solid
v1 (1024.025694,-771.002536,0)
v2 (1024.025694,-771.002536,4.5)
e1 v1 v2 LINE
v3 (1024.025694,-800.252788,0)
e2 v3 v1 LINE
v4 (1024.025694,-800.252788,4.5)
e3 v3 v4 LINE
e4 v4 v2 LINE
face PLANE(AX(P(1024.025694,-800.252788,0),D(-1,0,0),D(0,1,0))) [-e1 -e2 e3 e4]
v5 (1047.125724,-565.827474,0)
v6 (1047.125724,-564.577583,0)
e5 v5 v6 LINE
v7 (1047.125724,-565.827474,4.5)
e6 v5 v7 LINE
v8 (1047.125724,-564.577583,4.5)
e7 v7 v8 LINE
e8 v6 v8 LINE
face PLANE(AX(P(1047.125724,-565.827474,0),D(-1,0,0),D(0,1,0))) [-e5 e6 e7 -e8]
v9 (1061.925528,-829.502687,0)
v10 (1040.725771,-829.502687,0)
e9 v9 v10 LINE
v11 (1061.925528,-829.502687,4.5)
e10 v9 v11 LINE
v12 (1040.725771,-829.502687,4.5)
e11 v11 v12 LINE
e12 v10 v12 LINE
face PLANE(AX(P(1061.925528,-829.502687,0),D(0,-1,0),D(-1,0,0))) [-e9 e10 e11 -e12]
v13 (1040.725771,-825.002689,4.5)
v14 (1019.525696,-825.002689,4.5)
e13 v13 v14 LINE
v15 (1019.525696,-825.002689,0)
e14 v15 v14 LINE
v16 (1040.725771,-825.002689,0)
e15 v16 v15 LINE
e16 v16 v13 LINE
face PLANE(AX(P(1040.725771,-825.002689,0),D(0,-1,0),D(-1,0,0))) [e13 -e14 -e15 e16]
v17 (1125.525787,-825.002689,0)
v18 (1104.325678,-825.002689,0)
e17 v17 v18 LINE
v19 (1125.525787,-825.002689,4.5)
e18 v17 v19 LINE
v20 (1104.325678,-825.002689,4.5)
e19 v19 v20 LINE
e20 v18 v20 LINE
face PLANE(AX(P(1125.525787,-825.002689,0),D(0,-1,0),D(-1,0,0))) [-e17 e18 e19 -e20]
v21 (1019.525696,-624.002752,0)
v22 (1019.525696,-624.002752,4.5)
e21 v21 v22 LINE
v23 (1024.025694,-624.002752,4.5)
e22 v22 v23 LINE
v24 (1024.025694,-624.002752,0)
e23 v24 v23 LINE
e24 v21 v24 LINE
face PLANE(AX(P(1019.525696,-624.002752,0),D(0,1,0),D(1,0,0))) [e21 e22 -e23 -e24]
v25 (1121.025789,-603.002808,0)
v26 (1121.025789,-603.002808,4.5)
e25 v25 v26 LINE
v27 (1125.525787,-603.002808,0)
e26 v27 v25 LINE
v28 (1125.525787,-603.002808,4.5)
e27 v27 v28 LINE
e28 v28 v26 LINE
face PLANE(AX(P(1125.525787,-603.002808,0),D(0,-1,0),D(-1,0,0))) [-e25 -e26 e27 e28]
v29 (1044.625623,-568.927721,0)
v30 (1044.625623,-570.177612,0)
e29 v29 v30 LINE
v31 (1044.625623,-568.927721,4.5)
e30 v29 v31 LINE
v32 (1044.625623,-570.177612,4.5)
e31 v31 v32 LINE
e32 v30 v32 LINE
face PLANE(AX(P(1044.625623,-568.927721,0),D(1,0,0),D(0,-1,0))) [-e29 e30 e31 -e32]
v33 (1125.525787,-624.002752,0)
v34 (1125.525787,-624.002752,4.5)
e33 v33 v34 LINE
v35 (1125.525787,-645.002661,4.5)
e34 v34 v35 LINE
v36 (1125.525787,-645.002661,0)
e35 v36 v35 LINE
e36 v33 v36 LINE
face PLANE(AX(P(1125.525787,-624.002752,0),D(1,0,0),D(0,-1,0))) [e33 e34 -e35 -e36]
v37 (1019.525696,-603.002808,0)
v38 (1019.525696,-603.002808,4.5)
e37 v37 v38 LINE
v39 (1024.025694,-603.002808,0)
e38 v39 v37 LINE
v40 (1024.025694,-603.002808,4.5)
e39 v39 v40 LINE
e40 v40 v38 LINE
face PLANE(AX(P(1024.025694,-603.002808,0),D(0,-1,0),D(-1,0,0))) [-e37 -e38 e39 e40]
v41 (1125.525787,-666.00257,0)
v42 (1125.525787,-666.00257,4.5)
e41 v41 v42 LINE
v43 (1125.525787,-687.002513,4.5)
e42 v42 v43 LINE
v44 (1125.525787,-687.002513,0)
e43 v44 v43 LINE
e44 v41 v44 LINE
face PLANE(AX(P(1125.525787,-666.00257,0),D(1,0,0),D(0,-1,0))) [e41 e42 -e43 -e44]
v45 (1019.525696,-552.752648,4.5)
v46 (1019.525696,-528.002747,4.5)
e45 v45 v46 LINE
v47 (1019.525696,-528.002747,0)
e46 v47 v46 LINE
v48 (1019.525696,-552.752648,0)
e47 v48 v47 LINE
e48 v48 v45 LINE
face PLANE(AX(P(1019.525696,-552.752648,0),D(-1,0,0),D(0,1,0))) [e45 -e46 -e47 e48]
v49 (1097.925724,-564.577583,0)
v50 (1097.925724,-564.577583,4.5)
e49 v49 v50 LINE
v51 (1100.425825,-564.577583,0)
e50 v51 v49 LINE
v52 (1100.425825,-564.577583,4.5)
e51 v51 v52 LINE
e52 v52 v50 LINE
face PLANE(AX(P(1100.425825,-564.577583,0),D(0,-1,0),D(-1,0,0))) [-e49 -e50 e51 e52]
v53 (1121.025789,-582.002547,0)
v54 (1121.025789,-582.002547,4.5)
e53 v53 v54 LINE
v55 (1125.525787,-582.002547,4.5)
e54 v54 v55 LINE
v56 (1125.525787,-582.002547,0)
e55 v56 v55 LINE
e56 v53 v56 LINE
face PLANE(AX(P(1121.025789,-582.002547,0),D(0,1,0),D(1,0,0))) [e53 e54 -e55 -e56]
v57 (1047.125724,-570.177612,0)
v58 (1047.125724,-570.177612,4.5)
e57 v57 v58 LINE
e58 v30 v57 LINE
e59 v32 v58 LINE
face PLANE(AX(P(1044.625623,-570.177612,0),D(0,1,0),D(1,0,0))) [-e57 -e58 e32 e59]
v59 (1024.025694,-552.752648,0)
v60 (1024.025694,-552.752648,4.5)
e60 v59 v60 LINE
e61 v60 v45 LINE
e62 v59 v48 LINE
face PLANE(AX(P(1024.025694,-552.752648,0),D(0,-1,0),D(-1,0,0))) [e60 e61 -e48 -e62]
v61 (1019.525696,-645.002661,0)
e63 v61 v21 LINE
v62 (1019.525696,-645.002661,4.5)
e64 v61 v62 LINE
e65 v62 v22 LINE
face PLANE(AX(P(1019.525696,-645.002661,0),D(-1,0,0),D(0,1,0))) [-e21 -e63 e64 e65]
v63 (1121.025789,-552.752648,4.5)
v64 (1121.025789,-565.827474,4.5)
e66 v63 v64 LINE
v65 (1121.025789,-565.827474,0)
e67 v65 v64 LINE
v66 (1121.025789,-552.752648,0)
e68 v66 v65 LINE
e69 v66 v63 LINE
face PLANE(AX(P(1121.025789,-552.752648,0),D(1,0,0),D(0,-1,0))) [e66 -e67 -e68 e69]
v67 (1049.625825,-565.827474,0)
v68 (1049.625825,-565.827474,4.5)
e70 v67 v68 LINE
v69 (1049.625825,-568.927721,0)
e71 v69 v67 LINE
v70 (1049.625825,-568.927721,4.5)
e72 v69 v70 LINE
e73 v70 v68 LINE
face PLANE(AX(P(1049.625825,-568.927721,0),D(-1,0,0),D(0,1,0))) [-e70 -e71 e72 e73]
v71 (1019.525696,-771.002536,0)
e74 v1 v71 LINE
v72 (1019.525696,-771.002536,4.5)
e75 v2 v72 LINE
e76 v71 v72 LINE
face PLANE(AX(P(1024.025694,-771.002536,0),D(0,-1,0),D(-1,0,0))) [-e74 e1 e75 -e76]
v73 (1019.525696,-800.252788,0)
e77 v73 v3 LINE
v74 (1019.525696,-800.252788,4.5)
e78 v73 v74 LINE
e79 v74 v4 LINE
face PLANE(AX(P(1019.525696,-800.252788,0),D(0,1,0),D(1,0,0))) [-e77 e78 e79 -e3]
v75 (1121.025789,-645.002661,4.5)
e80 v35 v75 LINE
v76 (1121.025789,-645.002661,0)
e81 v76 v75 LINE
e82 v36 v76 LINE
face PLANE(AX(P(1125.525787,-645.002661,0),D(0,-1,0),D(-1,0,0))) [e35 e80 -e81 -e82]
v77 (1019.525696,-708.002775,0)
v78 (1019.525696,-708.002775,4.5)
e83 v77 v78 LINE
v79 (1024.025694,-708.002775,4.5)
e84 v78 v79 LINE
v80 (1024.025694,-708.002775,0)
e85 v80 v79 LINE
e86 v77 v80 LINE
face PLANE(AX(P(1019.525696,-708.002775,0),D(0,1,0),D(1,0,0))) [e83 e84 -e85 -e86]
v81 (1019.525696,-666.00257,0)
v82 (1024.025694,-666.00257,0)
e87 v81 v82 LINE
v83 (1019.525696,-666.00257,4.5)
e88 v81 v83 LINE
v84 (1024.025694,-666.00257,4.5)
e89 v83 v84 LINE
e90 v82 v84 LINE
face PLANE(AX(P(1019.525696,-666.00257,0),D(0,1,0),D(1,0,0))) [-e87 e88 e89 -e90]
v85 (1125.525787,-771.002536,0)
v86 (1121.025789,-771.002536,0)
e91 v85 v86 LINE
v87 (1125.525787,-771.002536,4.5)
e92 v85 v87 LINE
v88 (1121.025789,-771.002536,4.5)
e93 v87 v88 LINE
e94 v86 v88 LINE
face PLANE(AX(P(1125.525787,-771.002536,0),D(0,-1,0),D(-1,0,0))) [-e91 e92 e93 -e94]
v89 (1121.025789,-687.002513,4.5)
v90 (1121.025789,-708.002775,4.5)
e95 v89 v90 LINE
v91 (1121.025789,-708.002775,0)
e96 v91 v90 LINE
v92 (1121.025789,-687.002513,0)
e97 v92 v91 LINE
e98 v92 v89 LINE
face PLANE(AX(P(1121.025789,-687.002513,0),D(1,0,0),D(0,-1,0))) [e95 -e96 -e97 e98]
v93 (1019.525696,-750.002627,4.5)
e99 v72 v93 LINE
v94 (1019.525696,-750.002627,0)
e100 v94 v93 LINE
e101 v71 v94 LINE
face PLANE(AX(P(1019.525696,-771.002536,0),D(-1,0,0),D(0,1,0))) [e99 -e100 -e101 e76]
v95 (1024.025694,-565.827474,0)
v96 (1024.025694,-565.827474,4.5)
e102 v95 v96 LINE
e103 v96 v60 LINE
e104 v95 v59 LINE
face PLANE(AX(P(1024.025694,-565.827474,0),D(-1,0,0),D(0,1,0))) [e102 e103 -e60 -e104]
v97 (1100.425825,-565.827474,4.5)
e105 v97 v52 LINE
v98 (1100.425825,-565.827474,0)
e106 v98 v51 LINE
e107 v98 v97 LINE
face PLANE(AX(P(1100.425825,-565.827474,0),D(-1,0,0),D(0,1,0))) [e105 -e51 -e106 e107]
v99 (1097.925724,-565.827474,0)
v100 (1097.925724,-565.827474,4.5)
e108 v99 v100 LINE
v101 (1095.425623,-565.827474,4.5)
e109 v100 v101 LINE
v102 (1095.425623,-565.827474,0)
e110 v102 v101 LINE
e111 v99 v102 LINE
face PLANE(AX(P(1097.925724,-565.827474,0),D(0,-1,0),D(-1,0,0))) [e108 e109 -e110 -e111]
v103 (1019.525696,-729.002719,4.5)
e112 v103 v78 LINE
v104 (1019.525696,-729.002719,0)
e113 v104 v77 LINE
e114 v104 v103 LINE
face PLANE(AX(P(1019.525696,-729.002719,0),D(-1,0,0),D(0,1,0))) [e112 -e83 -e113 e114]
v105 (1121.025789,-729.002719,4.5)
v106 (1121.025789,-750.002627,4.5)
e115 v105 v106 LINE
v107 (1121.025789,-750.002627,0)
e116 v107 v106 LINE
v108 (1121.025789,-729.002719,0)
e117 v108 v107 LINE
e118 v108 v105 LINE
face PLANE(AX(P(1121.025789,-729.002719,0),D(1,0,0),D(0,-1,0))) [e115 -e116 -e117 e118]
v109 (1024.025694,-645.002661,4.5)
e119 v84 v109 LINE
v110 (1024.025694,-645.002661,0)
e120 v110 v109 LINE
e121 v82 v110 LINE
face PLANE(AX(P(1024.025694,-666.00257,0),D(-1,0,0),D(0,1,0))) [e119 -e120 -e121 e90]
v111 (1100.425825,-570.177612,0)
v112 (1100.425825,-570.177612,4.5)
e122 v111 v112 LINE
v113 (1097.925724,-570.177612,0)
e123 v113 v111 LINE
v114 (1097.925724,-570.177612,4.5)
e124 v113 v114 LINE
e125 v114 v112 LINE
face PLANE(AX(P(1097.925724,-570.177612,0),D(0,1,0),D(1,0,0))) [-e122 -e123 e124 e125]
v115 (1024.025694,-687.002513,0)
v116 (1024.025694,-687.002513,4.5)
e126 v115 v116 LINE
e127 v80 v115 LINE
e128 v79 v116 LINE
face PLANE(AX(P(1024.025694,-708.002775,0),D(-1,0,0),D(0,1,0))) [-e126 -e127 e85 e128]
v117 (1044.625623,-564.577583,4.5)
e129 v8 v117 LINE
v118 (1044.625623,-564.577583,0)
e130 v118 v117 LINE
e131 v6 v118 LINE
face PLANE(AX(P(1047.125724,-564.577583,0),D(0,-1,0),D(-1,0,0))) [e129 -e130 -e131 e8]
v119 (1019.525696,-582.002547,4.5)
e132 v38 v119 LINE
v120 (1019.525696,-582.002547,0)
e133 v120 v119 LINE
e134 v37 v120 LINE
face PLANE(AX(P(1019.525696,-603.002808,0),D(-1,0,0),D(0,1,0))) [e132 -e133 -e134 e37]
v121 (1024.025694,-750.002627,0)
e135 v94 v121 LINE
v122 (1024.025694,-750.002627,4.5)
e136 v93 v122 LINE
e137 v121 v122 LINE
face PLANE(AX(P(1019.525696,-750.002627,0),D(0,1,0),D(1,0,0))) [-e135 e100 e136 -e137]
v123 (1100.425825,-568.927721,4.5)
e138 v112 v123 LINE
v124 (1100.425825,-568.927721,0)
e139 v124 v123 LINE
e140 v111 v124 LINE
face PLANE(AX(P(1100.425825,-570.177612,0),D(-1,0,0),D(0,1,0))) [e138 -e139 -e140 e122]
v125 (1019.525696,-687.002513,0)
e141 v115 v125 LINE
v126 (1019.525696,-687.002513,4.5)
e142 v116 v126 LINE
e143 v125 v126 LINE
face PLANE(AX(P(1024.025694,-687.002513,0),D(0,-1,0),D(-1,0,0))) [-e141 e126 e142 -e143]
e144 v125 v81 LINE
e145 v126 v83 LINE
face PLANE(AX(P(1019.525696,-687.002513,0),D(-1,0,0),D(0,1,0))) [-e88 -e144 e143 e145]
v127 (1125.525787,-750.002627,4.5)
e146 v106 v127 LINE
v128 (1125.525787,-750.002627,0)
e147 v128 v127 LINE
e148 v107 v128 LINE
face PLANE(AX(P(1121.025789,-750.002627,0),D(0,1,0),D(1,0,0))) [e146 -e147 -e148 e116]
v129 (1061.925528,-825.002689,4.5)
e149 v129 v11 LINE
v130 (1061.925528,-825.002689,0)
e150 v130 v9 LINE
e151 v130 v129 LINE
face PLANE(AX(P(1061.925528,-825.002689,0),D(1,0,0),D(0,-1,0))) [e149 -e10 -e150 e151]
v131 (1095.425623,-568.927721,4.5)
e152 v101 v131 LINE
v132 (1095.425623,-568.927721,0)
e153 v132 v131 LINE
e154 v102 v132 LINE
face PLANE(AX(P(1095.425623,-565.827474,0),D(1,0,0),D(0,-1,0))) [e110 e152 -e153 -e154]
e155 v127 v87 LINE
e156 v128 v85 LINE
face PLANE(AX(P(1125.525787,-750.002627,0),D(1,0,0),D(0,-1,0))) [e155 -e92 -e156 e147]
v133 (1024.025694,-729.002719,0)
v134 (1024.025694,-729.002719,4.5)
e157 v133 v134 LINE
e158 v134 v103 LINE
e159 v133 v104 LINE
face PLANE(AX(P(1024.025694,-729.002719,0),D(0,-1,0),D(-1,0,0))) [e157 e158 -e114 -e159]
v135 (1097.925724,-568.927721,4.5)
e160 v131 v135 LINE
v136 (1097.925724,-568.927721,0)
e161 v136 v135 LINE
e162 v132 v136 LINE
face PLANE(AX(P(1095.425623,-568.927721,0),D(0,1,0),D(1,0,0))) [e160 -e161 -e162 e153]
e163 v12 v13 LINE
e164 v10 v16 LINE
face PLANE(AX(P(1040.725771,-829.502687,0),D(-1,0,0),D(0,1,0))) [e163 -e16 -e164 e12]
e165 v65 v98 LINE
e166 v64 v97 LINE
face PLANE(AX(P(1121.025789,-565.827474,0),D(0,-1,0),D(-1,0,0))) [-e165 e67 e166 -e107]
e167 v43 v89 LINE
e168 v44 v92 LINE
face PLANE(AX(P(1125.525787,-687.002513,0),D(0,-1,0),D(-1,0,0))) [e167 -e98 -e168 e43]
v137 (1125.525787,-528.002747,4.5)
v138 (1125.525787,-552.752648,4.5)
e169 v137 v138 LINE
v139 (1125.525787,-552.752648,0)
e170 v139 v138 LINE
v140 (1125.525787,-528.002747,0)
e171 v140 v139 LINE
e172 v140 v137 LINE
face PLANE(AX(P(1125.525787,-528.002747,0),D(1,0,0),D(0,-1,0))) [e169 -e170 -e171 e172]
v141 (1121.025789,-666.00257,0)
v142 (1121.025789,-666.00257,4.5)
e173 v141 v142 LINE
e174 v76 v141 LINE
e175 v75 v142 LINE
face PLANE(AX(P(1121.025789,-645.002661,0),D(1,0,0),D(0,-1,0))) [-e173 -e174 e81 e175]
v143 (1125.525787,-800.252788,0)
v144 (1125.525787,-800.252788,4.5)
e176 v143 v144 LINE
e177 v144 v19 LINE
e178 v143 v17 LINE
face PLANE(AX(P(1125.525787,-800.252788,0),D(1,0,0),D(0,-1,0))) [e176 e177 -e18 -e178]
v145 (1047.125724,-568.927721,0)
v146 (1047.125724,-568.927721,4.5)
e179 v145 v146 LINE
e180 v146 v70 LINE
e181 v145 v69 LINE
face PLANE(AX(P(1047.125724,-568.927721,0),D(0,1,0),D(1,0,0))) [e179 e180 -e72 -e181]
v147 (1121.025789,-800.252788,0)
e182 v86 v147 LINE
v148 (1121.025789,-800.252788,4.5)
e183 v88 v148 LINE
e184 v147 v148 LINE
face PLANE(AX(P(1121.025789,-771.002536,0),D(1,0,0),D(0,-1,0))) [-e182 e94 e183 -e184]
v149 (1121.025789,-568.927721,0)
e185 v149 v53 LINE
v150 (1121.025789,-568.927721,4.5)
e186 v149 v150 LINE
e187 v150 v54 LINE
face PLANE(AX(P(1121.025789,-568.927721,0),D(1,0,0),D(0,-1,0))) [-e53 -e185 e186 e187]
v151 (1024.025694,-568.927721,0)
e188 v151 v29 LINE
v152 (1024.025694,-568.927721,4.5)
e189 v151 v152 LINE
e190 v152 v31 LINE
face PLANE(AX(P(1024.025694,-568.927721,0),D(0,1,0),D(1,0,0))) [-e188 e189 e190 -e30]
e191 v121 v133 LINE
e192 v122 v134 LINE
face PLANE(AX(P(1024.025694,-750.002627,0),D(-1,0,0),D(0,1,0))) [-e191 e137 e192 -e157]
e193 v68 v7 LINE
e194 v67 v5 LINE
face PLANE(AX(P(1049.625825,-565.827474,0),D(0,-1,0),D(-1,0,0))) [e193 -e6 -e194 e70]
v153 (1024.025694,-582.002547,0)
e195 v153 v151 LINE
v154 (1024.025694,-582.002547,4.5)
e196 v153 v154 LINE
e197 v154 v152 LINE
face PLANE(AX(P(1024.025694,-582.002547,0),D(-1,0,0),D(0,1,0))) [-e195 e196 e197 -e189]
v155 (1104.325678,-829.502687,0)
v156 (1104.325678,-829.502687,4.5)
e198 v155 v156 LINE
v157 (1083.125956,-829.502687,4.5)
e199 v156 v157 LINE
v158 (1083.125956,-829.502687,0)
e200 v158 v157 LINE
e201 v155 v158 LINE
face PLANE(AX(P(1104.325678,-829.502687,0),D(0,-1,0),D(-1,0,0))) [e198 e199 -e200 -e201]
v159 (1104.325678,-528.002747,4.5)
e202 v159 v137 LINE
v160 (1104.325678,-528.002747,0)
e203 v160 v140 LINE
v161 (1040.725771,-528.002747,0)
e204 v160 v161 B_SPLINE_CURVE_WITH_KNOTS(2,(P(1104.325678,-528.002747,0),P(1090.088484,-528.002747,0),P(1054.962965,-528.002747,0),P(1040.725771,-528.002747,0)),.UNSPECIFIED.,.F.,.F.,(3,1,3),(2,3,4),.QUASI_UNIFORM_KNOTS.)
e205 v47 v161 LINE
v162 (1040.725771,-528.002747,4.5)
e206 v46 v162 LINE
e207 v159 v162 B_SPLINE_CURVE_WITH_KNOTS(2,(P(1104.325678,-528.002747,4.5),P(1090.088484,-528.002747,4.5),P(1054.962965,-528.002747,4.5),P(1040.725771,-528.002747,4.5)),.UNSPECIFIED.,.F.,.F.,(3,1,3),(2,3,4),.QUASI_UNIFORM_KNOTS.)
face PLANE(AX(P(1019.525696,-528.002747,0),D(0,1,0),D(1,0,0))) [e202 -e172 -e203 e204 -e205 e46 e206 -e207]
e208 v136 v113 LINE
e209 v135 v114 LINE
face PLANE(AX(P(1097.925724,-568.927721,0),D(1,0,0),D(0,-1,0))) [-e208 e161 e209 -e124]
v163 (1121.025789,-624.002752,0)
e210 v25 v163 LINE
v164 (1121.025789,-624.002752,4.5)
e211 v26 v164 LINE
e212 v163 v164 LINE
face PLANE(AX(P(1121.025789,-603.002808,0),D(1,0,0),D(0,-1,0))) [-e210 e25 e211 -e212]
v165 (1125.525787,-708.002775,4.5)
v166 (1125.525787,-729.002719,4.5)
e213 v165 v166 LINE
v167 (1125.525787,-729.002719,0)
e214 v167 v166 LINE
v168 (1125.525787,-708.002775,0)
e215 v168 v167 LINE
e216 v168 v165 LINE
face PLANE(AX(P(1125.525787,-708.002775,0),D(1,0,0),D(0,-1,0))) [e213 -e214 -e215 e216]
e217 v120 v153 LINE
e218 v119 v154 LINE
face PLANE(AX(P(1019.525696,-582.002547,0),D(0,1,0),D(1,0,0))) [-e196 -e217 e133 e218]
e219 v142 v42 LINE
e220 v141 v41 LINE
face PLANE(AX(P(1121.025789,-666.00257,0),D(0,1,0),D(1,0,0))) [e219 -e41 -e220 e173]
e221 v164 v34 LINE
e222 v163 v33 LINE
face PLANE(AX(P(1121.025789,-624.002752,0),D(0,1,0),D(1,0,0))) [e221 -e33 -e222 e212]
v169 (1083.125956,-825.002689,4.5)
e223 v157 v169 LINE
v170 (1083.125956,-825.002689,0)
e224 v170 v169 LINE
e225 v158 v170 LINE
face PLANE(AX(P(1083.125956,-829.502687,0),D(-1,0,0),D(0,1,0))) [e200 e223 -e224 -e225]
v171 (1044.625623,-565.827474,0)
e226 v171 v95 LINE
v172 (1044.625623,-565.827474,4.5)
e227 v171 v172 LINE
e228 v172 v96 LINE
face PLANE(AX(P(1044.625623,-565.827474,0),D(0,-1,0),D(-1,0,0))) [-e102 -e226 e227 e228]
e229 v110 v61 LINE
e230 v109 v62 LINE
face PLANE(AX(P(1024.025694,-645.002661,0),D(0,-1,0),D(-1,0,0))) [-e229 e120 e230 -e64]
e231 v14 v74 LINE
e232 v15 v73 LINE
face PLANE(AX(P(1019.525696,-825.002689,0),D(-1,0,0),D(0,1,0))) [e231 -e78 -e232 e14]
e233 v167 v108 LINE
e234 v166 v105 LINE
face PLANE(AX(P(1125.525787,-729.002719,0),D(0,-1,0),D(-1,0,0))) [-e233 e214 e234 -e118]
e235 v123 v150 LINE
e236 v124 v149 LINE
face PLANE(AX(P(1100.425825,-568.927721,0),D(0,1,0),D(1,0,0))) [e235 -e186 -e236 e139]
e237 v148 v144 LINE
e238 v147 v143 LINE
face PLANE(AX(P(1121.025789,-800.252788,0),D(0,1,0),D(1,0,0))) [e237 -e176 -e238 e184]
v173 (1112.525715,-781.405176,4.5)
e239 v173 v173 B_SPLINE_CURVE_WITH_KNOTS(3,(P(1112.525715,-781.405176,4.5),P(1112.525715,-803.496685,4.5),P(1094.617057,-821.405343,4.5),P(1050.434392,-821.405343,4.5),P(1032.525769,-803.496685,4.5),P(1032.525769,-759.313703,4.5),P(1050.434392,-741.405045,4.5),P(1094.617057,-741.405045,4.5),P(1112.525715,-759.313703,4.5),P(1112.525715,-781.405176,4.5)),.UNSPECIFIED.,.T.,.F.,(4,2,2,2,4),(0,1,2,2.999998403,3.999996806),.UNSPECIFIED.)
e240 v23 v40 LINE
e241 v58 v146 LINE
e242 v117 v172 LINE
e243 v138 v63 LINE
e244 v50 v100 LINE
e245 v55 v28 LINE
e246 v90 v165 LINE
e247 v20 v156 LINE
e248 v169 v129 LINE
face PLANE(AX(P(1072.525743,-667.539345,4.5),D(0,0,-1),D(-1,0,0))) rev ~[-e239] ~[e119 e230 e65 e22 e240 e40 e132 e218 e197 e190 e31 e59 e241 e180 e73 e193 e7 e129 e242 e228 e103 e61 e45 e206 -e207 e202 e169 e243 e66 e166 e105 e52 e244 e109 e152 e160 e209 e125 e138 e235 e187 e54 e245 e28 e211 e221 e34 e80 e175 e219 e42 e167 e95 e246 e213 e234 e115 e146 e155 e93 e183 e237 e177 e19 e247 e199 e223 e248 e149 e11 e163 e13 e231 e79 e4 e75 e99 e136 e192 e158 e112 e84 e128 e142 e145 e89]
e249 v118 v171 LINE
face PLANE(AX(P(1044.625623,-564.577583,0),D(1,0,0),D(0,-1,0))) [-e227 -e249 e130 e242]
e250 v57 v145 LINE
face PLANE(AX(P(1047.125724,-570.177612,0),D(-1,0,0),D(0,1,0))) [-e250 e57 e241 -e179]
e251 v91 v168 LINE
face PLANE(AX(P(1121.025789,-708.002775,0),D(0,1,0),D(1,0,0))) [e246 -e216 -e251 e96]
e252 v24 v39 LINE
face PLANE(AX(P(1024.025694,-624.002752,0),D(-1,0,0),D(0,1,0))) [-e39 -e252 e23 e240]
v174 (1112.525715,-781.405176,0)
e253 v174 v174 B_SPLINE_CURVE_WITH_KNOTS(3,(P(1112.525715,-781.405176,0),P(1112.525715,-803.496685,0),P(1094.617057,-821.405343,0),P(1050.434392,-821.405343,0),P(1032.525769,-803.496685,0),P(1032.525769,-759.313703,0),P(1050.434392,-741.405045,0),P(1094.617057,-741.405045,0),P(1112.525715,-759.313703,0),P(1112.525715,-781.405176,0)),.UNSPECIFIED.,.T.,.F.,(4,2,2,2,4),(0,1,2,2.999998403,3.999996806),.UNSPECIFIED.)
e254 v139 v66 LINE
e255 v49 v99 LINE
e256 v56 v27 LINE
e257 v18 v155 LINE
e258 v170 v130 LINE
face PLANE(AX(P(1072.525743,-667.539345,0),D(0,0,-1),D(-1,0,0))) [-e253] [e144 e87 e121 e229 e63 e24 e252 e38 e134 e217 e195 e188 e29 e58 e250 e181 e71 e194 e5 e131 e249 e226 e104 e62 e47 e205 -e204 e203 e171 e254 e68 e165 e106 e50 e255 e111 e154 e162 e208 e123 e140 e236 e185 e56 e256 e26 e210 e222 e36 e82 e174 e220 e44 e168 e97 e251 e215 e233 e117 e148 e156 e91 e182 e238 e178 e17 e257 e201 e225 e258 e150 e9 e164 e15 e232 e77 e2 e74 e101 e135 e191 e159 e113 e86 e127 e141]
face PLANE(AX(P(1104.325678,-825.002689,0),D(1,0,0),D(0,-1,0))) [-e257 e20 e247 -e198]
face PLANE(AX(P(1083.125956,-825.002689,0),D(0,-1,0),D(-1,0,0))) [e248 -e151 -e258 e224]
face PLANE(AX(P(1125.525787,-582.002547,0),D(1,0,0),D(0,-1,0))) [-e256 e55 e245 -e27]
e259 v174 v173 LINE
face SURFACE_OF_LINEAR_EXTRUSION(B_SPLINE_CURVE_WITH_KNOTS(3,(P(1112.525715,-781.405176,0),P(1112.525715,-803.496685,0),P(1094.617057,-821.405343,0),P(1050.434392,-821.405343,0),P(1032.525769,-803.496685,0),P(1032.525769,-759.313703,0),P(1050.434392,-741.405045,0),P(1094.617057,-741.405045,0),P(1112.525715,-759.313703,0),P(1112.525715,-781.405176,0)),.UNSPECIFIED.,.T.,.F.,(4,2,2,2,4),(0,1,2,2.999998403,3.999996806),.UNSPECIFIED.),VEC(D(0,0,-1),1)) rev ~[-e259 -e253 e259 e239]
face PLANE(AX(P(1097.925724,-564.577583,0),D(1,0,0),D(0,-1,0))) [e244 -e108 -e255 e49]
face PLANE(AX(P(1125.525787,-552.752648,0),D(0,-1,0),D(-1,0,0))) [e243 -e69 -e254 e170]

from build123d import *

# Parameters (mm, degrees)
BOSS_EXTRUDE1_DEPTH = 4.5


with BuildPart() as part:
    # Model → Boss-Extrude1 (new body)
    with BuildSketch(Plane.XY):
        with BuildLine():
            Line((1024.025694188, -784.077715082), (1024.025694188, -771.002535918))
            Line((1024.025694188, -771.002535918), (1019.525696134, -771.002535918))
            Line((1019.525696134, -771.002535918), (1019.525696134, -750.002627312))
            Line((1019.525696134, -750.002627312), (1024.025694188, -750.002627312))
            Line((1024.025694188, -750.002627312), (1024.025694188, -729.002718707))
            Line((1024.025694188, -729.002718707), (1019.525696134, -729.002718707))
            Line((1019.525696134, -729.002718707), (1019.525696134, -708.002774823))
            Line((1019.525696134, -708.002774823), (1024.025694188, -708.002774823))
            Line((1024.025694188, -708.002774823), (1024.025694188, -687.002513439))
            Line((1024.025694188, -687.002513439), (1019.525696134, -687.002513439))
            Line((1019.525696134, -687.002513439), (1019.525696134, -666.002569556))
            Line((1019.525696134, -666.002569556), (1024.025694188, -666.002569556))
            Line((1024.025694188, -666.002569556), (1024.025694188, -645.00266095))
            Line((1024.025694188, -645.00266095), (1019.525696134, -645.00266095))
            Line((1019.525696134, -645.00266095), (1019.525696134, -624.002752344))
            Line((1019.525696134, -624.002752344), (1024.025694188, -624.002752344))
            Line((1024.025694188, -624.002752344), (1024.025694188, -603.00280846))
            Line((1024.025694188, -603.00280846), (1019.525696134, -603.00280846))
            Line((1019.525696134, -603.00280846), (1019.525696134, -582.002547077))
            Line((1019.525696134, -582.002547077), (1024.025694188, -582.002547077))
            Line((1024.025694188, -582.002547077), (1024.025694188, -568.927720691))
            Line((1024.025694188, -568.927720691), (1044.62562335, -568.927720691))
            Line((1044.62562335, -568.927720691), (1044.62562335, -570.177612357))
            Line((1044.62562335, -570.177612357), (1047.125724183, -570.177612357))
            Line((1047.125724183, -570.177612357), (1047.125724183, -568.927720691))
            Line((1047.125724183, -568.927720691), (1049.625825015, -568.927720691))
            Line((1049.625825015, -568.927720691), (1049.625825015, -565.827474303))
            Line((1049.625825015, -565.827474303), (1047.125724183, -565.827474303))
            Line((1047.125724183, -565.827474303), (1047.125724183, -564.577582637))
            Line((1047.125724183, -564.577582637), (1044.62562335, -564.577582637))
            Line((1044.62562335, -564.577582637), (1044.62562335, -565.827474303))
            Line((1044.62562335, -565.827474303), (1024.025694188, -565.827474303))
            Line((1024.025694188, -565.827474303), (1024.025694188, -552.752647917))
            Line((1024.025694188, -552.752647917), (1019.525696134, -552.752647917))
            Line((1019.525696134, -552.752647917), (1019.525696134, -528.002746812))
            Line((1019.525696134, -528.002746812), (1040.725770851, -528.002746812))
            add(Edge.make_bspline(
                [(1072.525724176, -528.002746812), (1054.962964736, -528.002746812), (1040.725770851, -528.002746812)],
                knots=[3, 3, 3, 4, 4, 4], degree=2))
            add(Edge.make_bspline(
                [(1104.325677502, -528.002746812), (1090.088483616, -528.002746812), (1072.525724176, -528.002746812)],
                knots=[2, 2, 2, 3, 3, 3], degree=2))
            Line((1104.325677502, -528.002746812), (1125.525787496, -528.002746812))
            Line((1125.525787496, -528.002746812), (1125.525787496, -552.752647917))
            Line((1125.525787496, -552.752647917), (1121.025789442, -552.752647917))
            Line((1121.025789442, -552.752647917), (1121.025789442, -565.827474303))
            Line((1121.025789442, -565.827474303), (1100.425825003, -565.827474303))
            Line((1100.425825003, -565.827474303), (1100.425825003, -564.577582637))
            Line((1100.425825003, -564.577582637), (1097.92572417, -564.577582637))
            Line((1097.92572417, -564.577582637), (1097.92572417, -565.827474303))
            Line((1097.92572417, -565.827474303), (1095.425623337, -565.827474303))
            Line((1095.425623337, -565.827474303), (1095.425623337, -568.927720691))
            Line((1095.425623337, -568.927720691), (1097.92572417, -568.927720691))
            Line((1097.92572417, -568.927720691), (1097.92572417, -570.177612357))
            Line((1097.92572417, -570.177612357), (1100.425825003, -570.177612357))
            Line((1100.425825003, -570.177612357), (1100.425825003, -568.927720691))
            Line((1100.425825003, -568.927720691), (1121.025789442, -568.927720691))
            Line((1121.025789442, -568.927720691), (1121.025789442, -582.002547077))
            Line((1121.025789442, -582.002547077), (1125.525787496, -582.002547077))
            Line((1125.525787496, -582.002547077), (1125.525787496, -603.00280846))
            Line((1125.525787496, -603.00280846), (1121.025789442, -603.00280846))
            Line((1121.025789442, -603.00280846), (1121.025789442, -624.002752344))
            Line((1121.025789442, -624.002752344), (1125.525787496, -624.002752344))
            Line((1125.525787496, -624.002752344), (1125.525787496, -645.00266095))
            Line((1125.525787496, -645.00266095), (1121.025789442, -645.00266095))
            Line((1121.025789442, -645.00266095), (1121.025789442, -666.002569556))
            Line((1121.025789442, -666.002569556), (1125.525787496, -666.002569556))
            Line((1125.525787496, -666.002569556), (1125.525787496, -687.002513439))
            Line((1125.525787496, -687.002513439), (1121.025789442, -687.002513439))
            Line((1121.025789442, -687.002513439), (1121.025789442, -708.002774823))
            Line((1121.025789442, -708.002774823), (1125.525787496, -708.002774823))
            Line((1125.525787496, -708.002774823), (1125.525787496, -729.002718707))
            Line((1125.525787496, -729.002718707), (1121.025789442, -729.002718707))
            Line((1121.025789442, -729.002718707), (1121.025789442, -750.002627312))
            Line((1121.025789442, -750.002627312), (1125.525787496, -750.002627312))
            Line((1125.525787496, -750.002627312), (1125.525787496, -771.002535918))
            Line((1125.525787496, -771.002535918), (1121.025789442, -771.002535918))
            Line((1121.025789442, -771.002535918), (1121.025789442, -784.077715082))
            Line((1121.025789442, -784.077715082), (1121.025789442, -787.177608692))
            Line((1121.025789442, -787.177608692), (1121.025789442, -800.252787855))
            Line((1121.025789442, -800.252787855), (1125.525787496, -800.252787855))
            Line((1125.525787496, -800.252787855), (1125.525787496, -825.00268896))
            Line((1125.525787496, -825.00268896), (1104.325677502, -825.00268896))
            Line((1104.325677502, -825.00268896), (1104.325677502, -829.502687015))
            Line((1104.325677502, -829.502687015), (1083.125955563, -829.502687015))
            Line((1083.125955563, -829.502687015), (1083.125955563, -825.00268896))
            Line((1083.125955563, -825.00268896), (1074.07568862, -825.00268896))
            Line((1074.07568862, -825.00268896), (1070.97579501, -825.00268896))
            Line((1070.97579501, -825.00268896), (1061.925528068, -825.00268896))
            Line((1061.925528068, -825.00268896), (1061.925528068, -829.502687015))
            Line((1061.925528068, -829.502687015), (1040.725770851, -829.502687015))
            Line((1040.725770851, -829.502687015), (1040.725770851, -825.00268896))
            Line((1040.725770851, -825.00268896), (1019.525696134, -825.00268896))
            Line((1019.525696134, -825.00268896), (1019.525696134, -800.252787855))
            Line((1019.525696134, -800.252787855), (1024.025694188, -800.252787855))
            Line((1024.025694188, -800.252787855), (1024.025694188, -787.177608692))
            Line((1024.025694188, -787.177608692), (1024.025694188, -784.077715082))
        make_face()
        with BuildLine():
            add(Edge.make_bspline(
                [(1032.525768909, -781.405176471), (1032.525768909, -759.313702866), (1050.434391682, -741.405044815), (1072.525724176, -741.405044815), (1094.617056671, -741.405044815), (1112.525714722, -759.313702866), (1112.525714722, -781.405176471)],
                knots=[2, 2, 2, 2, 3, 3, 3, 4, 4, 4, 4], degree=3))
            add(Edge.make_bspline(
                [(1112.525714722, -781.405176471), (1112.525714722, -803.496685355), (1094.617056671, -821.405343406), (1072.525724176, -821.405343406), (1050.434391682, -821.405343406), (1032.525768909, -803.496685355), (1032.525768909, -781.405176471)],
                knots=[0, 0, 0, 0, 1, 1, 1, 2, 2, 2, 2], degree=3))
        make_face(mode=Mode.SUBTRACT)
    extrude(amount=BOSS_EXTRUDE1_DEPTH)


solid = part.part
